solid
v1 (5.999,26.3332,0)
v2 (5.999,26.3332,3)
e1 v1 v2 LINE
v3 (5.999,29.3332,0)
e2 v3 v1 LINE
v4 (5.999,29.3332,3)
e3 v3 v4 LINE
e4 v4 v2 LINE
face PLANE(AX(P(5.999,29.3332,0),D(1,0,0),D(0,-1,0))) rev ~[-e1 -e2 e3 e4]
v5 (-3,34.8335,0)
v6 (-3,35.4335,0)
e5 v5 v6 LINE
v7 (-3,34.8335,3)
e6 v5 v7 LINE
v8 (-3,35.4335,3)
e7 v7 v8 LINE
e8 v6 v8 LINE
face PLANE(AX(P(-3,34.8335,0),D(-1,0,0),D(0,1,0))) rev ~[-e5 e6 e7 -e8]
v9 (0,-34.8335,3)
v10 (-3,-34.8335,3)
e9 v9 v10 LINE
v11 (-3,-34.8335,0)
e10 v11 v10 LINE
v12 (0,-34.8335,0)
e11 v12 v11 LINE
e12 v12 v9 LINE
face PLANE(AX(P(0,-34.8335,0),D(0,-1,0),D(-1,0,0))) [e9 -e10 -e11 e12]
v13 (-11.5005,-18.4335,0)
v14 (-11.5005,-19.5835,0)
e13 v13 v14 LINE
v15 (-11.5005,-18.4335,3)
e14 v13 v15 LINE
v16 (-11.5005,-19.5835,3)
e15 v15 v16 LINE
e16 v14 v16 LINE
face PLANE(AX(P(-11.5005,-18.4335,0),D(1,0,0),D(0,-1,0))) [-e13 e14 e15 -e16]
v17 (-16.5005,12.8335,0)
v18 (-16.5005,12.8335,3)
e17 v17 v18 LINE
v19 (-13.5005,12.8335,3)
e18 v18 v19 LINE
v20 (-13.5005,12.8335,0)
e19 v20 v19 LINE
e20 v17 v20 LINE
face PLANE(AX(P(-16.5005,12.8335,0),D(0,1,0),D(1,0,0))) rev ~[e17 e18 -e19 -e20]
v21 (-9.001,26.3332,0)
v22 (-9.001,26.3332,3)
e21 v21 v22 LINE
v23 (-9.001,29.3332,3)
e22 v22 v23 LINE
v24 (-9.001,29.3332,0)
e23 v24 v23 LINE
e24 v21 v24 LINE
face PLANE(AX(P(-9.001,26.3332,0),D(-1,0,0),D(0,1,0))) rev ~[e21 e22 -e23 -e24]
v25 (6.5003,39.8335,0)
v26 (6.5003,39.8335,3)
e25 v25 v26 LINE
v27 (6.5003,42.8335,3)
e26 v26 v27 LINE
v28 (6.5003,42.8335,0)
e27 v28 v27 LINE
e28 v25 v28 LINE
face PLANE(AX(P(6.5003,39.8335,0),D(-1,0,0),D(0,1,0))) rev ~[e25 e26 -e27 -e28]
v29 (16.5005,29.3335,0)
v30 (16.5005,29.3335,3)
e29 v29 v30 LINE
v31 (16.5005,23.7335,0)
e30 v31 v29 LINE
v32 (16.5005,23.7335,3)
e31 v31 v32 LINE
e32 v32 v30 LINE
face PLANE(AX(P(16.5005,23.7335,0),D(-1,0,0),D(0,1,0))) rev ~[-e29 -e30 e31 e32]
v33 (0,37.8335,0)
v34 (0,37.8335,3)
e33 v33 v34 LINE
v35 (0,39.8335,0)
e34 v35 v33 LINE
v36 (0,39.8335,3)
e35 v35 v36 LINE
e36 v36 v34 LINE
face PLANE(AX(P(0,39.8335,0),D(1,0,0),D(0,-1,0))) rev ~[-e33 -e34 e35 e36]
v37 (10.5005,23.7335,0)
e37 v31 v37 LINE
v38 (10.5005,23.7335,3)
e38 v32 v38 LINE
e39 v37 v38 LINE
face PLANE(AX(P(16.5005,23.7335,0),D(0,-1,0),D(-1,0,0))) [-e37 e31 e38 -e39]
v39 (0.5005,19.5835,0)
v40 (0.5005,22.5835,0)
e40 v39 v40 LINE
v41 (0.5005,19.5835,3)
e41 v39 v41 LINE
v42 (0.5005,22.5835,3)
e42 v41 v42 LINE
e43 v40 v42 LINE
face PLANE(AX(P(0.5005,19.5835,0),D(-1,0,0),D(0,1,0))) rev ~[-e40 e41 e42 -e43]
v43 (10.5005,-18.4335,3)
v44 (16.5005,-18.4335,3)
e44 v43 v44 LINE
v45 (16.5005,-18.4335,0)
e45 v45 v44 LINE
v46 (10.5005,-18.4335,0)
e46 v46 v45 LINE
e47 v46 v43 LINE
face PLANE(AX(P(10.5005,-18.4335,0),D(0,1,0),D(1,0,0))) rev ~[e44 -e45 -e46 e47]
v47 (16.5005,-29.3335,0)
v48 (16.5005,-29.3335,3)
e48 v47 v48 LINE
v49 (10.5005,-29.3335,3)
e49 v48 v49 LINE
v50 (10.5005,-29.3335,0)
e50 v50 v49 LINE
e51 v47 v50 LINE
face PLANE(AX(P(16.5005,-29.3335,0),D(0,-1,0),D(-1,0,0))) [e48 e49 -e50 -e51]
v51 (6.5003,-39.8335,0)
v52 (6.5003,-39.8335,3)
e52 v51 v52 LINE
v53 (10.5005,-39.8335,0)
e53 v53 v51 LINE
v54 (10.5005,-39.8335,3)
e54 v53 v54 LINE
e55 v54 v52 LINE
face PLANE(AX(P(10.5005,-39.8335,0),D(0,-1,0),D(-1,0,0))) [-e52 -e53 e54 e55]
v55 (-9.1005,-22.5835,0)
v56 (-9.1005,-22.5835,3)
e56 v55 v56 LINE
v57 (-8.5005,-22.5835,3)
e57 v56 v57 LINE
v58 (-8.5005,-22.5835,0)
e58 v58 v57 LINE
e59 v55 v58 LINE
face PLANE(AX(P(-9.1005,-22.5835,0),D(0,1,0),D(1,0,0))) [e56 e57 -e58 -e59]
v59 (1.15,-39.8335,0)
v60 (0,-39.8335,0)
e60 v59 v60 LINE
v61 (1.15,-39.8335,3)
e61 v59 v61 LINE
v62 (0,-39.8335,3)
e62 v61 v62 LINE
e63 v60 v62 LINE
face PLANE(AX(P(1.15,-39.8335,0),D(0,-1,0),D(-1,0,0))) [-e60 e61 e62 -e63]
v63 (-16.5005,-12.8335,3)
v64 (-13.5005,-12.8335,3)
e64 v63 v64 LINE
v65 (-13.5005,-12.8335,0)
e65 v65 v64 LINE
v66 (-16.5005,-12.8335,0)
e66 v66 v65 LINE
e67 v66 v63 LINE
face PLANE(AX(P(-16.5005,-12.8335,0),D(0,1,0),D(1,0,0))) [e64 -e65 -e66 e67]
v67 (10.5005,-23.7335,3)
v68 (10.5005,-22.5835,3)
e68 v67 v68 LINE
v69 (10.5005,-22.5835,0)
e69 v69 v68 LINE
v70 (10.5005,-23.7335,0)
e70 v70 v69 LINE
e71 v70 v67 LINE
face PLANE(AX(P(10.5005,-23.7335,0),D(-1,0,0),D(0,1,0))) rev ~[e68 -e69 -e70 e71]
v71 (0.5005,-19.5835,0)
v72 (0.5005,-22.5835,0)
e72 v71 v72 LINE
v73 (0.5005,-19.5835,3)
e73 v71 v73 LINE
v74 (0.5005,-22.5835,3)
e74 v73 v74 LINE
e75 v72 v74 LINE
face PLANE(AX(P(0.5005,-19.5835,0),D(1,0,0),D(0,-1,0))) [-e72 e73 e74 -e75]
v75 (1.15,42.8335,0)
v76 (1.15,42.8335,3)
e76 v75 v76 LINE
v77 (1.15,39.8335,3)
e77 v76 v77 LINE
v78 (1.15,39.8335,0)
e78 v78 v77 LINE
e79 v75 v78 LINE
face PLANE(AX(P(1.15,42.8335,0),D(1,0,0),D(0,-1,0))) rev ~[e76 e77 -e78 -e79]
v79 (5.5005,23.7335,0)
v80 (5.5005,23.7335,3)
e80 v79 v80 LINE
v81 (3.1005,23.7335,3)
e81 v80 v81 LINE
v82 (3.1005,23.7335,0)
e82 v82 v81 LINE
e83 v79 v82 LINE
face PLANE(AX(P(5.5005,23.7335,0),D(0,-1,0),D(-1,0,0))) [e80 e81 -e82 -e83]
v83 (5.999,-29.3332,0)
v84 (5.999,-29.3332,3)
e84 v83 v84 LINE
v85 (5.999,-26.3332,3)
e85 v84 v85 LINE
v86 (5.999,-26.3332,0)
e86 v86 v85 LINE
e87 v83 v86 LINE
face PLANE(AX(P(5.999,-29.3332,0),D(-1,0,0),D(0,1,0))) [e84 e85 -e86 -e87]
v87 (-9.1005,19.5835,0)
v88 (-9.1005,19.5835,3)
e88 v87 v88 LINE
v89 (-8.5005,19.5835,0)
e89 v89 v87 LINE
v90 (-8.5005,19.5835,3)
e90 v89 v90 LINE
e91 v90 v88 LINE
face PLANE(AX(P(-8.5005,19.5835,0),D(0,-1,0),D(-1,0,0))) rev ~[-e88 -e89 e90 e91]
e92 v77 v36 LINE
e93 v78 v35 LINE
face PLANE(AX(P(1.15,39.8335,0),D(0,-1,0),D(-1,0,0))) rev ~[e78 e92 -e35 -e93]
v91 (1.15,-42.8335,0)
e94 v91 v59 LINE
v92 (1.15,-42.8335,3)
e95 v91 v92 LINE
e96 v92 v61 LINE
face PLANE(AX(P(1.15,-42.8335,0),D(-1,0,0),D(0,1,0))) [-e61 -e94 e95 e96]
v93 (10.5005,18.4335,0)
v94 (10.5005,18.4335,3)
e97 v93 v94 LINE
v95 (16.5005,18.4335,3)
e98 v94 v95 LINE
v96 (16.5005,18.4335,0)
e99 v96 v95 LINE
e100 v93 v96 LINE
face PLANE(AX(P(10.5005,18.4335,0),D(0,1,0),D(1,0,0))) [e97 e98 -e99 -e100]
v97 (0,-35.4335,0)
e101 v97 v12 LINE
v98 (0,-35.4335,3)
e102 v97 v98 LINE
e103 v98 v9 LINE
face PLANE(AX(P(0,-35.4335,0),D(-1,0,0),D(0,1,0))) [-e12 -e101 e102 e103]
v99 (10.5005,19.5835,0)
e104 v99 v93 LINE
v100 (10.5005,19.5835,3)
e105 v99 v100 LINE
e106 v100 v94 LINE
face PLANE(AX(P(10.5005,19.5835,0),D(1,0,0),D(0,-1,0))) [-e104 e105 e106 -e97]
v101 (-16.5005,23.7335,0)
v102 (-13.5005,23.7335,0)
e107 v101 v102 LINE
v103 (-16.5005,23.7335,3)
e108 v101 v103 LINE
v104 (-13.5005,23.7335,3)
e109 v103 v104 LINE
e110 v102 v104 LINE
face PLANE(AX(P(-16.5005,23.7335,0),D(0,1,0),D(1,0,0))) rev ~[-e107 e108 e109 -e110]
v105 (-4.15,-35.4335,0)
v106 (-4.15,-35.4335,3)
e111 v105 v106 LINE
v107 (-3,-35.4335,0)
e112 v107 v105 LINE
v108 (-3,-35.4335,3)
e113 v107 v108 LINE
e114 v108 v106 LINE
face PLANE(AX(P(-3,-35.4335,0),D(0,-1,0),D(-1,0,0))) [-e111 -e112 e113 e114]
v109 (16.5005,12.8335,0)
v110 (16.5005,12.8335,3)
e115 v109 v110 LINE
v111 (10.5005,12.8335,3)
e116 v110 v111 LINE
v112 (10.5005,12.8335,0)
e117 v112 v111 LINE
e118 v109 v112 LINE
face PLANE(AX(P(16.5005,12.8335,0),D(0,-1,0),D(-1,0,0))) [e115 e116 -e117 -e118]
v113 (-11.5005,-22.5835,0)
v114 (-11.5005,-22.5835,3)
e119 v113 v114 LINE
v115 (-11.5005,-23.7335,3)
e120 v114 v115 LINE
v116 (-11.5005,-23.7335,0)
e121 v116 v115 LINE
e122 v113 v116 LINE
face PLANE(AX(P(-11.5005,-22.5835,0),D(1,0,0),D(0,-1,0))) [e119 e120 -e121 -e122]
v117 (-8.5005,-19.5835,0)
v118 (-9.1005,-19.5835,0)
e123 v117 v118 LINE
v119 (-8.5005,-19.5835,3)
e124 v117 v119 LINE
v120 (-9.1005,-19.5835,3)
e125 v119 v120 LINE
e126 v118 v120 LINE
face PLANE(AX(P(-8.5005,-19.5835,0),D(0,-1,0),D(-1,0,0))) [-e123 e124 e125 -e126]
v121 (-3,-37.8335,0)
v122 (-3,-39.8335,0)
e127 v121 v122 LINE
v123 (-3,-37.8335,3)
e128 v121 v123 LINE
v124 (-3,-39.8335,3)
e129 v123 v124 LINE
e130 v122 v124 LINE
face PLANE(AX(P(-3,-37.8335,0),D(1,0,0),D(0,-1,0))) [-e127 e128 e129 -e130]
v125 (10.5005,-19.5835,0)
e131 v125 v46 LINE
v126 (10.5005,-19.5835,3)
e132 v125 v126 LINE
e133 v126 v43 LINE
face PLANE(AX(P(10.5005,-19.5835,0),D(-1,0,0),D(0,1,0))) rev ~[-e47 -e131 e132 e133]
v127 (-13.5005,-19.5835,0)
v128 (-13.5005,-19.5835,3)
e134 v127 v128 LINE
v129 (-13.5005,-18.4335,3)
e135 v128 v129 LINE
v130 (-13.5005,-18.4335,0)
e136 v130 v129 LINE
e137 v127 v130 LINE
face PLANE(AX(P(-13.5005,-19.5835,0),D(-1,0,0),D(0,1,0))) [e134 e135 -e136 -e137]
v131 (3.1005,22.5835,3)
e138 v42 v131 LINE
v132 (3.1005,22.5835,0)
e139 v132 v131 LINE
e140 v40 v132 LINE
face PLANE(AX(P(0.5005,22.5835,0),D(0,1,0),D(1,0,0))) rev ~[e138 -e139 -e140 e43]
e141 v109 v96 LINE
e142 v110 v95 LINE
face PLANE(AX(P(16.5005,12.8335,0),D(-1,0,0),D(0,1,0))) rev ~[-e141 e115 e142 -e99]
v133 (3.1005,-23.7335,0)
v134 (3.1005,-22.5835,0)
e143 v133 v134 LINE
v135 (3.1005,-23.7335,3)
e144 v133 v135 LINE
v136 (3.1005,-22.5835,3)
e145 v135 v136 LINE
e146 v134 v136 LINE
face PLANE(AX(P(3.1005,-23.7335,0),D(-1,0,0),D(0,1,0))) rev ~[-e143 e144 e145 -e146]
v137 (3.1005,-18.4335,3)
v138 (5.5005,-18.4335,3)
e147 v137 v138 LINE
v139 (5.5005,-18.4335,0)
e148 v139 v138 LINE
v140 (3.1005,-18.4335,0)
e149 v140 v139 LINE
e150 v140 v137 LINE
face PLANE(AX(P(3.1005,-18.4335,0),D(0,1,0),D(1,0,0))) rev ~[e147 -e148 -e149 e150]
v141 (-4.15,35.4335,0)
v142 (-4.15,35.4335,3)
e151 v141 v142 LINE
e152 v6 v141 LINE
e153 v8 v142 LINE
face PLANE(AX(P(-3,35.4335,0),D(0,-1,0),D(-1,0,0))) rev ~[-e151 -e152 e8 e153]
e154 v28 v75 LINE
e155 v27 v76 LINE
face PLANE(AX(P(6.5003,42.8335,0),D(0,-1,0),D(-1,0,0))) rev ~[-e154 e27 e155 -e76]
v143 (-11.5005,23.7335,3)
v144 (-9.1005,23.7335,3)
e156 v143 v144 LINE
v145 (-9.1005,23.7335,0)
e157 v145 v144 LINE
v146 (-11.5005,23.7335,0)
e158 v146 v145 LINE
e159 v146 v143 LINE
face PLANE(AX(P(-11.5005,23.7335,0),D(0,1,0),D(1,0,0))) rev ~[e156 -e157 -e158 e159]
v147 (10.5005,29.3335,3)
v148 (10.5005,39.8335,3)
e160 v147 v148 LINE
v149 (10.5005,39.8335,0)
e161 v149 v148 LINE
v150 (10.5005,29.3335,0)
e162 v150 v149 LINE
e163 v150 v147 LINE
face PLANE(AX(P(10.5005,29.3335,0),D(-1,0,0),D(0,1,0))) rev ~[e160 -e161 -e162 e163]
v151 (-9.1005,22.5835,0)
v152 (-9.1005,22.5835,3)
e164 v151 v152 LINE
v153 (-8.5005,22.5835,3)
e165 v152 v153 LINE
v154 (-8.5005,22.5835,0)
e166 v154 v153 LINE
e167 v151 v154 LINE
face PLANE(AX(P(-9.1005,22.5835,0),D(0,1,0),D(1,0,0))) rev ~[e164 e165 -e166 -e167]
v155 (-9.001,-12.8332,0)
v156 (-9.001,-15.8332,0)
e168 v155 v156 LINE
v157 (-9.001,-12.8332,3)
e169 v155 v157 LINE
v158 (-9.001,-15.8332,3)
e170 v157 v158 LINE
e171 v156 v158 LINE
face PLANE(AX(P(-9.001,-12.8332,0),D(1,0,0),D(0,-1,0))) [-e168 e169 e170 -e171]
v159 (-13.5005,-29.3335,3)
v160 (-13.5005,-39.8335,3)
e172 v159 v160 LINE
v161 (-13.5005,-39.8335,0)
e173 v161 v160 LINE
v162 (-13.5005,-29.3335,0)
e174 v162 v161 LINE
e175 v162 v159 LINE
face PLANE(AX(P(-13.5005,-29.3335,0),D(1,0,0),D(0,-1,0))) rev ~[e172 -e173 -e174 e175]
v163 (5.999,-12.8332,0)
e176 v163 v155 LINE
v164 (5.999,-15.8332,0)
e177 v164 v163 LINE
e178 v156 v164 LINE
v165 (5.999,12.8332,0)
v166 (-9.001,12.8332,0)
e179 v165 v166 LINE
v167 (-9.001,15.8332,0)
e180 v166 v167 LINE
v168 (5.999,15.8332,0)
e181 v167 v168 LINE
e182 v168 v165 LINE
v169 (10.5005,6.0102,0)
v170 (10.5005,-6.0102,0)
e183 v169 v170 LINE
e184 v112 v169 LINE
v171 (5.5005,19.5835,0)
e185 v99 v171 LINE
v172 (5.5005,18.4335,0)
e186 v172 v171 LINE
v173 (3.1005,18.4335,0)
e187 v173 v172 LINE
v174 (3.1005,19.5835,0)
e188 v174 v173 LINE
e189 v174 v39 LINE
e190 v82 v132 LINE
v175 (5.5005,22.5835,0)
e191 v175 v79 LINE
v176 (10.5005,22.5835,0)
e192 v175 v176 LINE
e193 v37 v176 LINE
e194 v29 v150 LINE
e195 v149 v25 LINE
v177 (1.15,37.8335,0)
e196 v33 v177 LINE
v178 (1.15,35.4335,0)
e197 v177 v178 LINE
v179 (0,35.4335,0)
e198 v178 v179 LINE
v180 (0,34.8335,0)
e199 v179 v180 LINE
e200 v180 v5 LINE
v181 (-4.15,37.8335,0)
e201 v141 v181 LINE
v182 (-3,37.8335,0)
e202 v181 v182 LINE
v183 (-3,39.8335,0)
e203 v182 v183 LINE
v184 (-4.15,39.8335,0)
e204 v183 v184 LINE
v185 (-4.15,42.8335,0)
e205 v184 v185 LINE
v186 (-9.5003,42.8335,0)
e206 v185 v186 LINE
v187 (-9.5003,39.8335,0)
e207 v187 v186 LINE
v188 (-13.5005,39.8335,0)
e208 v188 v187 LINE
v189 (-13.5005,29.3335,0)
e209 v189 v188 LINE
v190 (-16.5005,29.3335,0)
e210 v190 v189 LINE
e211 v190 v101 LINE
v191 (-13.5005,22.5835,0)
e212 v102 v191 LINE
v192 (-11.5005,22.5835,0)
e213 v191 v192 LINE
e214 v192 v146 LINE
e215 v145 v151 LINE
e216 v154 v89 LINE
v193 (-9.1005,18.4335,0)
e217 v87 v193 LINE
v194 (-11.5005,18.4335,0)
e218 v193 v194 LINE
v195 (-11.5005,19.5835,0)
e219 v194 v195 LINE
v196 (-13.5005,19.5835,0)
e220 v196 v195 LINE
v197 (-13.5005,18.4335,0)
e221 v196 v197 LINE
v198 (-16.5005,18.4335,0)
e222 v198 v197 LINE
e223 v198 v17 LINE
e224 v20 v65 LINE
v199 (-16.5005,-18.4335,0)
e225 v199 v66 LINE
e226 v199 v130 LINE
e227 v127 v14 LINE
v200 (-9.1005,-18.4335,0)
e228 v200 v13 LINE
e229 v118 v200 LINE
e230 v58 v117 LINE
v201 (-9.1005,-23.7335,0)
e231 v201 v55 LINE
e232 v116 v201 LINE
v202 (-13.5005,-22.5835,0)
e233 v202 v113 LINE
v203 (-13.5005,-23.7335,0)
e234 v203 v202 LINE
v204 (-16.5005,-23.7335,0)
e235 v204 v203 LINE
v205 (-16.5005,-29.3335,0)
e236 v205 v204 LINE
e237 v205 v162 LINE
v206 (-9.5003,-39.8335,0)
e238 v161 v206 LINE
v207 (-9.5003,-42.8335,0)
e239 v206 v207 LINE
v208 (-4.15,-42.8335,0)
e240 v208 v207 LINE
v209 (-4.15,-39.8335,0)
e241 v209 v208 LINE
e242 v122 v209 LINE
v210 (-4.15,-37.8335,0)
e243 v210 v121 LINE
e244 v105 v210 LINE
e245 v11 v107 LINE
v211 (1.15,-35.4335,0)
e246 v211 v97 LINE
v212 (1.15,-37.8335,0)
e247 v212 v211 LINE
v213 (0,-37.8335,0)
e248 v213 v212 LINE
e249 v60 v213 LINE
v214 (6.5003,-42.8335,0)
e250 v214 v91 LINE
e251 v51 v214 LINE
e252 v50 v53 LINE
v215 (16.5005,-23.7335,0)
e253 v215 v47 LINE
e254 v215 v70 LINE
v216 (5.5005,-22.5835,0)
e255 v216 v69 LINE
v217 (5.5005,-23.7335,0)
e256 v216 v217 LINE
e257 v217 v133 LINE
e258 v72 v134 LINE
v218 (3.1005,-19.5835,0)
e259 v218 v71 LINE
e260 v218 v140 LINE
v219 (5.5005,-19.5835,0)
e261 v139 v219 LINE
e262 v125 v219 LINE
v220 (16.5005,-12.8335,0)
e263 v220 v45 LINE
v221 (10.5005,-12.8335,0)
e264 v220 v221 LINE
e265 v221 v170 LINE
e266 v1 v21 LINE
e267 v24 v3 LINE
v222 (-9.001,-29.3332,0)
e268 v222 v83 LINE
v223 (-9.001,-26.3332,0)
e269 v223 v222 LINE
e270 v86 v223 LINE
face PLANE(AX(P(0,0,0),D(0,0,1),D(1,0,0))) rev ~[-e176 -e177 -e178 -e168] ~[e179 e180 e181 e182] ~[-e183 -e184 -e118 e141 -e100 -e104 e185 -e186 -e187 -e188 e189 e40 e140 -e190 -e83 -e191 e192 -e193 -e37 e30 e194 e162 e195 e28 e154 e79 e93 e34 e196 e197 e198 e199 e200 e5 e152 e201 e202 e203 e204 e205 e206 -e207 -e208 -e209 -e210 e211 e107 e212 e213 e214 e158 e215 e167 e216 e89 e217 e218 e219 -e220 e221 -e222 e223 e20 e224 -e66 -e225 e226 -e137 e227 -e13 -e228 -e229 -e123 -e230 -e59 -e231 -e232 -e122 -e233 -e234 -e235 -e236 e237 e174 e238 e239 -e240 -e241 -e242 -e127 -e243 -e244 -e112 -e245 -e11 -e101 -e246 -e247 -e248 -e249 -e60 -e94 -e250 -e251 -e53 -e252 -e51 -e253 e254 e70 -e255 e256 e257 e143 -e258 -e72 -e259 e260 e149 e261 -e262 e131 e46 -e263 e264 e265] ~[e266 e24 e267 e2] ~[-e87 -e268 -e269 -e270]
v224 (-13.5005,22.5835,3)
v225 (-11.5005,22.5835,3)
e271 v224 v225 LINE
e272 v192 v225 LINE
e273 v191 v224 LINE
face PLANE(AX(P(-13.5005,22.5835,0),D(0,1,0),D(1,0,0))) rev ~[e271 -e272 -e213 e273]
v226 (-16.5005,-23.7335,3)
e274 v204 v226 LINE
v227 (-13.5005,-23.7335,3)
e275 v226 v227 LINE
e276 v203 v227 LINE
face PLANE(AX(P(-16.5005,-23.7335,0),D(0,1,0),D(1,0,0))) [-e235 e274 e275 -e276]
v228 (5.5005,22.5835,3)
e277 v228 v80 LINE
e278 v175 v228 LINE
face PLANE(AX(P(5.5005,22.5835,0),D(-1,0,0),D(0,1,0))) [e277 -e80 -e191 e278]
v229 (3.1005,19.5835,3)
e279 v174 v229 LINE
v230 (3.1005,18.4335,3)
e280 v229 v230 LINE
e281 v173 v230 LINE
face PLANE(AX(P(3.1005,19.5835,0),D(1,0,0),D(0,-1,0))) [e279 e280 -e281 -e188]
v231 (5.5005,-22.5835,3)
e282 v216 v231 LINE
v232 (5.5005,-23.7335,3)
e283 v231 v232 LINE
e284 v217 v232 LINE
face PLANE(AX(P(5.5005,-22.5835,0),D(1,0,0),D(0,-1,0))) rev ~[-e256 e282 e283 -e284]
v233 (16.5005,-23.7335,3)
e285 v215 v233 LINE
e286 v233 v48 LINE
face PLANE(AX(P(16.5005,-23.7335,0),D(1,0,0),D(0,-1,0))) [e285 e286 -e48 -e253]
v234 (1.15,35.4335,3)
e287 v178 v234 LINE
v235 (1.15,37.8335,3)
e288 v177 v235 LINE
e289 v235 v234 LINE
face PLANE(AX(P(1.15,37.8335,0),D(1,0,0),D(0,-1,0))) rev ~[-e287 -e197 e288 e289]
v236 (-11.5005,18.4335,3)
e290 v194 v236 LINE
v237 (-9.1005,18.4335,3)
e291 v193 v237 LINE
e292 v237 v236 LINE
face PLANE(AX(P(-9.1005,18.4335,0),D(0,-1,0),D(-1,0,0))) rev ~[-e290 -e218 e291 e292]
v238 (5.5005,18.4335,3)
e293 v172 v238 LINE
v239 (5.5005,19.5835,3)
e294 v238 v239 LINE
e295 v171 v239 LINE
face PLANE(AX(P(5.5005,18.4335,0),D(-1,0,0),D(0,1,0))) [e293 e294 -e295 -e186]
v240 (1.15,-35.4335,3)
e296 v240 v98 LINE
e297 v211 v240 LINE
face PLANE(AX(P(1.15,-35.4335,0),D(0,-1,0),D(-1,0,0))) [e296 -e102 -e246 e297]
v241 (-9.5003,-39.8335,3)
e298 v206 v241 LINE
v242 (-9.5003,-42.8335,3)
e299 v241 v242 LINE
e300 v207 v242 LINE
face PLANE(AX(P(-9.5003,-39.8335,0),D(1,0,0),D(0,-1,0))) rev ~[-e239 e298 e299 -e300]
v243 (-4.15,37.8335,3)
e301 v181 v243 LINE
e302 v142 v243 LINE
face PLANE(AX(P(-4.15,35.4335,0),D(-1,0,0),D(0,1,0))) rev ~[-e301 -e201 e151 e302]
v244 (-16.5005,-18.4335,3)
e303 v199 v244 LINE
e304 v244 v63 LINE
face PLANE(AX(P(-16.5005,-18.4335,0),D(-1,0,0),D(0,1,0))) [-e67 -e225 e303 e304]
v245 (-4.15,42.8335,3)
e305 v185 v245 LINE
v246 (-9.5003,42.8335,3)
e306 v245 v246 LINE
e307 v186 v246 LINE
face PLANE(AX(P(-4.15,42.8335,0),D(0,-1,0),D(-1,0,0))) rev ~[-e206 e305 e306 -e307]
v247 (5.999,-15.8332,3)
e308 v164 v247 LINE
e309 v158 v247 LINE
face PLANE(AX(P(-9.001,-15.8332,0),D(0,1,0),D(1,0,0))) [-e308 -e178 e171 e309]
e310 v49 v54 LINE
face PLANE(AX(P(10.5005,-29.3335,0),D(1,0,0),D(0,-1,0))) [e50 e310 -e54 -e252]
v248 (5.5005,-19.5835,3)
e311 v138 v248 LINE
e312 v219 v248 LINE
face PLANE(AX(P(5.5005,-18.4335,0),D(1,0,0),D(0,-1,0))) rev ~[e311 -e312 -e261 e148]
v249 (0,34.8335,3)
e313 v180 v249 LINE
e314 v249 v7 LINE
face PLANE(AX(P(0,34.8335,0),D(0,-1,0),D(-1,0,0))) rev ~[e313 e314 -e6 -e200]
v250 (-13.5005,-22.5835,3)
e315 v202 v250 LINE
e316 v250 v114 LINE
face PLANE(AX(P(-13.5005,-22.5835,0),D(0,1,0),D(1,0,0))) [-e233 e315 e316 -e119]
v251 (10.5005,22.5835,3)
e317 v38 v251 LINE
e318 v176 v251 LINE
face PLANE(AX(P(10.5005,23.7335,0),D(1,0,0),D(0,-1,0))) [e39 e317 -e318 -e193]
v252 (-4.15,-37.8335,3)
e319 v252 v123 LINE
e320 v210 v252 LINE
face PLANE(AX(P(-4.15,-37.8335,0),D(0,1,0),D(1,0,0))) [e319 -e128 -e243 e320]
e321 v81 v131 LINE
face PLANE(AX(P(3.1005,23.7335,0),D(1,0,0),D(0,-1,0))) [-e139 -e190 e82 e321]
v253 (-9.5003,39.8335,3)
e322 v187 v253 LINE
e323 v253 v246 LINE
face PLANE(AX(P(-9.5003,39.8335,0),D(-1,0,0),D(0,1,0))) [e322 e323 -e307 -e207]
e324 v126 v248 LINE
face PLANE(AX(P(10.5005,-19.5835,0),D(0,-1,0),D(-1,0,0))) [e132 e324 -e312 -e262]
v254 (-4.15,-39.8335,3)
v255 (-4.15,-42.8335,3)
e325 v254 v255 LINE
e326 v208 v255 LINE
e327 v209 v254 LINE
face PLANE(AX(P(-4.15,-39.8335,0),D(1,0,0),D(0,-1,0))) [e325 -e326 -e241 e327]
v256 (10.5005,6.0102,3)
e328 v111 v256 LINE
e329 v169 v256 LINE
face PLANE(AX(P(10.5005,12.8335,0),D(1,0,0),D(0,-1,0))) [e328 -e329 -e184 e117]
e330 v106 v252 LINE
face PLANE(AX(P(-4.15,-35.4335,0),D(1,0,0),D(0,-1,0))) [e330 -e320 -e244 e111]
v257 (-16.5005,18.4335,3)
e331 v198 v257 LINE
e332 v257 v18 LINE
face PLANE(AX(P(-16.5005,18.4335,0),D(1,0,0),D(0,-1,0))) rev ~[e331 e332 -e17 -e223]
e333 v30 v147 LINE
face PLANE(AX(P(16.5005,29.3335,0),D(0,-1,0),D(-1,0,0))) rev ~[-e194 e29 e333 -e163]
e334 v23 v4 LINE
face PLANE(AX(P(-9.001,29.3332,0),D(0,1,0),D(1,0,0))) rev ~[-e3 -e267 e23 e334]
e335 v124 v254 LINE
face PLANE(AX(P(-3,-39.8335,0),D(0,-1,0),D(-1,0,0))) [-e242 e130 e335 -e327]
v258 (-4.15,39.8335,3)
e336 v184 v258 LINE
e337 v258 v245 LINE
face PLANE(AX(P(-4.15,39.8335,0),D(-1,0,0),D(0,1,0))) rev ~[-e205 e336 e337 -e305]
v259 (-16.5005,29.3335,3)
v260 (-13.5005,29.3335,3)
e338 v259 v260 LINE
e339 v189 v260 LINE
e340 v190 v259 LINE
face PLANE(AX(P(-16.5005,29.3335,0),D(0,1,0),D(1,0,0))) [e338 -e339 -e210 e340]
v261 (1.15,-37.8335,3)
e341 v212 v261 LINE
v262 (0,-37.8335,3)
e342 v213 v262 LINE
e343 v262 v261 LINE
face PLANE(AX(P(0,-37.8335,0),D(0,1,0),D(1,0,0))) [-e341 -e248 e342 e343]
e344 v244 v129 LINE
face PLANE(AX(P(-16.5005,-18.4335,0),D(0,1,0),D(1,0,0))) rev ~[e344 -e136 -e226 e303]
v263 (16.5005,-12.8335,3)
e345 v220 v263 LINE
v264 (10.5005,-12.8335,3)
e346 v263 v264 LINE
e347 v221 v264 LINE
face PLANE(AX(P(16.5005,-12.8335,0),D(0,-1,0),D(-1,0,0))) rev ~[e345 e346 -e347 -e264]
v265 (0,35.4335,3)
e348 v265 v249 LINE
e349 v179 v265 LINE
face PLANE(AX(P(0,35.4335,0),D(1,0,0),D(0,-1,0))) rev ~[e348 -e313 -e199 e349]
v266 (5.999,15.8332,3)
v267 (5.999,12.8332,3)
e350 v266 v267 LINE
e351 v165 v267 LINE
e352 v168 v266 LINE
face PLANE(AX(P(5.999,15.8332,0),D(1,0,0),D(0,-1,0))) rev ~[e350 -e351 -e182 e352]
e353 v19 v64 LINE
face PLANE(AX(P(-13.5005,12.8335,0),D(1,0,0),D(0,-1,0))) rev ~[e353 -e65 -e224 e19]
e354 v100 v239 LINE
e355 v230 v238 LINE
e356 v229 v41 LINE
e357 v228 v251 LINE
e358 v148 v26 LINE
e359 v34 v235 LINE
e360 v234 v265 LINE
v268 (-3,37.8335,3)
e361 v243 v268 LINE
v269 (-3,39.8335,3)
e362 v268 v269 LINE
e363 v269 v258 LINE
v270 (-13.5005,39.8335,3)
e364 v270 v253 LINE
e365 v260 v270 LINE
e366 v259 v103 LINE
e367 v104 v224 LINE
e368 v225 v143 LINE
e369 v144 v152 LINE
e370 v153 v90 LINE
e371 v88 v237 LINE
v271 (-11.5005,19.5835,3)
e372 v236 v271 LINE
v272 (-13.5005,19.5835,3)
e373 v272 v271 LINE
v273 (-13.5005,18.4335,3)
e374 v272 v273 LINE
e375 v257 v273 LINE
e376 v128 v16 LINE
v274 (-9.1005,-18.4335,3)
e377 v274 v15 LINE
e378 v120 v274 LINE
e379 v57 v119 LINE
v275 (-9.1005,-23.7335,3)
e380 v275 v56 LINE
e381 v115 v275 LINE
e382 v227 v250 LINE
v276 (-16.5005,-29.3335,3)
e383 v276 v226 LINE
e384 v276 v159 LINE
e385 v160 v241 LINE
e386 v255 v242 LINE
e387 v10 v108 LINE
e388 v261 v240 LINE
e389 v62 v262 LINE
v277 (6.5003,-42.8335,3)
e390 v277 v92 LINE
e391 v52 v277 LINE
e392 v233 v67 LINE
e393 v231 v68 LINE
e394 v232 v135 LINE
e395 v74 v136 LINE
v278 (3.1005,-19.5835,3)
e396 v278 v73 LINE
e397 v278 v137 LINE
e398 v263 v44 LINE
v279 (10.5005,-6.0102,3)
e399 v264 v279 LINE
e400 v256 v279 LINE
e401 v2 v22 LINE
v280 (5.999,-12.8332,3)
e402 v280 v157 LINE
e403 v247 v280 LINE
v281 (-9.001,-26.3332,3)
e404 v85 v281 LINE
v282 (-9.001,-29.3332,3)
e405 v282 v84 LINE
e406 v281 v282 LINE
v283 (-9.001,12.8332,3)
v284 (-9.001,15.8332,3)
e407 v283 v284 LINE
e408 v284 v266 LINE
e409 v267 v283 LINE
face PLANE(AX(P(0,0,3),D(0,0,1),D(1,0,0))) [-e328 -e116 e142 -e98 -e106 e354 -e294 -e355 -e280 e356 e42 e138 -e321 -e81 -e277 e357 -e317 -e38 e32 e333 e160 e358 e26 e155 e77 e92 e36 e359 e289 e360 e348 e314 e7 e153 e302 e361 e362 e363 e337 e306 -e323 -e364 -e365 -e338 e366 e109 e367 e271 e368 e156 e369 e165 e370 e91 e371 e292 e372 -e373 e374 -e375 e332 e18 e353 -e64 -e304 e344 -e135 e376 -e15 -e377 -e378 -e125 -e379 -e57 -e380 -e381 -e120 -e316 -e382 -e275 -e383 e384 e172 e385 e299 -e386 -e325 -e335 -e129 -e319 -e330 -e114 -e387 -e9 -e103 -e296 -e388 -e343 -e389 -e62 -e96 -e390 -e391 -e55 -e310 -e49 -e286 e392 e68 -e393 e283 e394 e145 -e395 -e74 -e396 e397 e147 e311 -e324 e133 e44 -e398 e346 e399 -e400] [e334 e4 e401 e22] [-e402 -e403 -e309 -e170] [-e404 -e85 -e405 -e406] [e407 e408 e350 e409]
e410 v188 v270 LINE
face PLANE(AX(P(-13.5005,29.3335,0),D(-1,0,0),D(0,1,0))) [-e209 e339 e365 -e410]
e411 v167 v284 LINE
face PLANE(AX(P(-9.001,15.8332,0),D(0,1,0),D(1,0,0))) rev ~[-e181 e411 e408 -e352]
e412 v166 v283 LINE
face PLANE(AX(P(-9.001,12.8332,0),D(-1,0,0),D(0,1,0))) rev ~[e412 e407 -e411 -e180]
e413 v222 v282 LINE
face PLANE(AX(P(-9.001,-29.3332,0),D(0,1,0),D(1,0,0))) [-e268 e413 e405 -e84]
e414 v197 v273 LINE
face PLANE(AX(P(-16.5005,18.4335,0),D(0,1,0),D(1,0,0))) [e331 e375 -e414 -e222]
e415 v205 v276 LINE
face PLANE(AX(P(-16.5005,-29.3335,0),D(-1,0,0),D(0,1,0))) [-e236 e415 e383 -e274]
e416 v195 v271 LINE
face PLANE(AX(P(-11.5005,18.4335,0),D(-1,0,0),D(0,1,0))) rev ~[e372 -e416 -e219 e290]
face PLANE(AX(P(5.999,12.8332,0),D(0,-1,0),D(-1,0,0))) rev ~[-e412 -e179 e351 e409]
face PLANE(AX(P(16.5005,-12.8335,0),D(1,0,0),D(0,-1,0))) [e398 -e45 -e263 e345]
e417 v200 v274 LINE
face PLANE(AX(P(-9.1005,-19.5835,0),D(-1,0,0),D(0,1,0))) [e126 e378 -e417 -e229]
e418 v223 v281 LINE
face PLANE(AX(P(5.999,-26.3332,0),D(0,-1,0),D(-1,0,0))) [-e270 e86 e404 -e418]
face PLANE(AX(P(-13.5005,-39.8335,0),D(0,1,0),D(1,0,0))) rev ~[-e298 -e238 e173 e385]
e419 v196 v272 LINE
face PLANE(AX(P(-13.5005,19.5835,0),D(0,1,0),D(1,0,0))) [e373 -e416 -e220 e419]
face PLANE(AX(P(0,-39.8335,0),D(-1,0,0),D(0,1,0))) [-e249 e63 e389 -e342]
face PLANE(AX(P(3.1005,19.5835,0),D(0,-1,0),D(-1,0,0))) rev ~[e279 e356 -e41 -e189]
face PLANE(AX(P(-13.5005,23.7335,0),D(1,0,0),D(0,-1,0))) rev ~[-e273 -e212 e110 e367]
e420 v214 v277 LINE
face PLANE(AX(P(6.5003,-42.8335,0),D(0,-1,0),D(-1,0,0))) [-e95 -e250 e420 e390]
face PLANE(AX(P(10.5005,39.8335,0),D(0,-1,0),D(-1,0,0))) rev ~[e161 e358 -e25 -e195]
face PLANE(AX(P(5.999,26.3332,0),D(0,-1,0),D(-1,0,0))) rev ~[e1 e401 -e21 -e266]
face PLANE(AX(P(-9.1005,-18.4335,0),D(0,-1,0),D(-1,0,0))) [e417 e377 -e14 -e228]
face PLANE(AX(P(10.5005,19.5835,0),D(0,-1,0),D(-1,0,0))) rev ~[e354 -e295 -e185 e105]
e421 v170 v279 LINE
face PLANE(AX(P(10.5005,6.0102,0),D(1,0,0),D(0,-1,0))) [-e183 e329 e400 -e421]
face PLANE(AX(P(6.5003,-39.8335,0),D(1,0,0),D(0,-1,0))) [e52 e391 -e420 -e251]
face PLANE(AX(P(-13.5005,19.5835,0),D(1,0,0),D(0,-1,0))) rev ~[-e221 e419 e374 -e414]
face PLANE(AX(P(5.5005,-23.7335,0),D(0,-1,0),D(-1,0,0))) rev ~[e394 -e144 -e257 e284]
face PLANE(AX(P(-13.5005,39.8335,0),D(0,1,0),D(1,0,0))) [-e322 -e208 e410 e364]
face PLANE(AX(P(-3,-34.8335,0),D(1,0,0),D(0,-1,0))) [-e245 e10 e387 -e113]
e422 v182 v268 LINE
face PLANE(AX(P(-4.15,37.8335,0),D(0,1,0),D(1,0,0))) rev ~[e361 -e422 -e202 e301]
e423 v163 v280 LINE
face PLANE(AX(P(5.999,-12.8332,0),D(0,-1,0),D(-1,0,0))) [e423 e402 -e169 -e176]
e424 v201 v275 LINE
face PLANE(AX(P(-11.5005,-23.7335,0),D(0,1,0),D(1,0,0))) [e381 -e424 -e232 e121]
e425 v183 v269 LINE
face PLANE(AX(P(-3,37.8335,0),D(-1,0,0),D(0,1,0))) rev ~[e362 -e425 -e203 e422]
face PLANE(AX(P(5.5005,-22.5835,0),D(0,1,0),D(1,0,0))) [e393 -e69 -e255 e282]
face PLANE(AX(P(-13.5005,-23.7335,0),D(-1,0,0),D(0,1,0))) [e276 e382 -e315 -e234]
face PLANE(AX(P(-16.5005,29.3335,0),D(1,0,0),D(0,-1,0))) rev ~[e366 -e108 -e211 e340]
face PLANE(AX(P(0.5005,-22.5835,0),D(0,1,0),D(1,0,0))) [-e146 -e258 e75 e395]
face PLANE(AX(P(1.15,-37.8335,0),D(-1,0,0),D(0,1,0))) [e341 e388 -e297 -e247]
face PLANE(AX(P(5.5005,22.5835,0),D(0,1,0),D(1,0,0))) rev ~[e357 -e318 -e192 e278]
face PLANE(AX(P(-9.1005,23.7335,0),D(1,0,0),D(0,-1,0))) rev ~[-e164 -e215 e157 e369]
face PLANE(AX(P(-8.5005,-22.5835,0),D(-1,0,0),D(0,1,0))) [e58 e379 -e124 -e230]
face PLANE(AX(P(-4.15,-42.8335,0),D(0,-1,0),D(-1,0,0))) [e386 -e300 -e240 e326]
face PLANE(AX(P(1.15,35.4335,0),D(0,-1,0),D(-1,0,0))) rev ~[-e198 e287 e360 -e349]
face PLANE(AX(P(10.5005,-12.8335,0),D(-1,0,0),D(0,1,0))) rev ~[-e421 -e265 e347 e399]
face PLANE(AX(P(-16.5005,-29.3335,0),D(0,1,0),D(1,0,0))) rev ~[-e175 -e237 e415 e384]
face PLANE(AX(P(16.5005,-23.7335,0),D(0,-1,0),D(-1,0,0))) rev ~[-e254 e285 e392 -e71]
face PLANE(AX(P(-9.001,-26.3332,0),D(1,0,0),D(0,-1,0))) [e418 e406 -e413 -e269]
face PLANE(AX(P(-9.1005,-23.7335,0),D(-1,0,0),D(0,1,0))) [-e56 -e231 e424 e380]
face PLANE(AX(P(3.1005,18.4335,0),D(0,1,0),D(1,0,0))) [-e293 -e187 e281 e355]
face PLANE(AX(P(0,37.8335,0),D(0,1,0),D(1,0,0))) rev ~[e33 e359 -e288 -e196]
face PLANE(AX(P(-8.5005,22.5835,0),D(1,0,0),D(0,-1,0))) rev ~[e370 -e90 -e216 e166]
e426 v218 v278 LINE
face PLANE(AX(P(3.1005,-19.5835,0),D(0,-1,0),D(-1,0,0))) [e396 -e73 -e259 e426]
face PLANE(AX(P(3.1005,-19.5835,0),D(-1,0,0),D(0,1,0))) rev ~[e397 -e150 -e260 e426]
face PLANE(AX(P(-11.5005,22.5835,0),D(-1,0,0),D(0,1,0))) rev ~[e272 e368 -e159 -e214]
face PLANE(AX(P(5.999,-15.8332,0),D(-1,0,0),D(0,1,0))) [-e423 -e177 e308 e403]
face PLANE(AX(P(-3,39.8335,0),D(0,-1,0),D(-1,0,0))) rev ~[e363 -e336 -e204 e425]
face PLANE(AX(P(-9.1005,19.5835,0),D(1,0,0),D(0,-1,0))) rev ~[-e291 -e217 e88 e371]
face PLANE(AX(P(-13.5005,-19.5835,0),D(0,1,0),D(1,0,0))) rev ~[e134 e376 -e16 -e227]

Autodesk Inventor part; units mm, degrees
ref_plane "YZ Plane" through (0, 0, 0) normal (1, 0, 0) x (0, 1, 0)
ref_plane "XZ Plane" through (0, 0, 0) normal (0, 1, 0) x (-1, 0, 0)
ref_plane "XY Plane" through (0, 0, 0) normal (0, 0, 1) x (1, 0, 0)
sketch "Sketch1" plane through (0, 0, 0) normal (0, 0, 1) x (1, 0, 0)
  line L0 (16.5005, -29.3335) -> (10.5005, -29.3335)
  line L1 (10.5005, -29.3335) -> (10.5005, -39.8335)
  line L2 (16.5005, -23.7335) -> (10.5005, -23.7335)
  line L3 (10.5005, -23.7335) -> (10.5005, -22.5835)
  line L4 (10.5005, -18.4335) -> (16.5005, -18.4335)
  line L5 (16.5005, -23.7335) -> (16.5005, -29.3335)
  line L6 (25.9291, -21.0835) -> (-23.8941, -21.0835) construction
  line L7 (10.5005, -19.5835) -> (5.5005, -19.5835)
  line L8 (0.5005, -19.5835) -> (0.5005, -22.5835)
  line L9 (0.5005, -22.5835) -> (3.1005, -22.5835)
  line L10 (3.1005, -18.4335) -> (5.5005, -18.4335)
  line L11 (5.5005, -18.4335) -> (5.5005, -19.5835)
  line L12 (5.5005, -23.7335) -> (3.1005, -23.7335)
  line L13 (3.1005, -23.7335) -> (3.1005, -22.5835)
  line L14 (10.5005, -19.5835) -> (10.5005, -18.4335)
  line L15 (16.5005, -12.8335) -> (10.5005, -12.8335)
  line L16 (10.5005, -12.8335) -> (10.5005, -6.0102)
  line L17 (16.5005, -12.8335) -> (16.5005, -18.4335)
  line L18 (-29.2331, 0) -> (54.6642, 0) construction
  line L19 (5.5005, -22.5835) -> (5.5005, -23.7335)
  line L20 (3.1005, -19.5835) -> (3.1005, -18.4335)
  line L21 (3.1005, -19.5835) -> (0.5005, -19.5835)
  line L22 (5.5005, -22.5835) -> (10.5005, -22.5835)
  line L23 (16.5005, 29.3335) -> (10.5005, 29.3335)
  line L24 (10.5005, 29.3335) -> (10.5005, 39.8335)
  line L25 (16.5005, 23.7335) -> (10.5005, 23.7335)
  line L26 (10.5005, 23.7335) -> (10.5005, 22.5835)
  line L27 (10.5005, 18.4335) -> (16.5005, 18.4335)
  line L28 (16.5005, 23.7335) -> (16.5005, 29.3335)
  line L29 (10.5005, 19.5835) -> (5.5005, 19.5835)
  line L30 (0.5005, 19.5835) -> (0.5005, 22.5835)
  line L31 (0.5005, 22.5835) -> (3.1005, 22.5835)
  line L32 (3.1005, 18.4335) -> (5.5005, 18.4335)
  line L33 (5.5005, 18.4335) -> (5.5005, 19.5835)
  line L34 (5.5005, 23.7335) -> (3.1005, 23.7335)
  line L35 (3.1005, 23.7335) -> (3.1005, 22.5835)
  line L36 (10.5005, 19.5835) -> (10.5005, 18.4335)
  line L37 (16.5005, 12.8335) -> (10.5005, 12.8335)
  line L38 (10.5005, 12.8335) -> (10.5005, 6.0102)
  line L39 (16.5005, 12.8335) -> (16.5005, 18.4335)
  line L40 (5.5005, 22.5835) -> (5.5005, 23.7335)
  line L41 (3.1005, 19.5835) -> (3.1005, 18.4335)
  line L42 (3.1005, 19.5835) -> (0.5005, 19.5835)
  line L43 (5.5005, 22.5835) -> (10.5005, 22.5835)
  line L44 (10.5005, 6.0102) -> (10.5005, -6.0102)
  line L45 (-16.5005, -29.3335) -> (-13.5005, -29.3335)
  line L46 (-13.5005, -29.3335) -> (-13.5005, -39.8335)
  line L47 (-16.5005, -23.7335) -> (-13.5005, -23.7335)
  line L48 (-13.5005, -23.7335) -> (-13.5005, -22.5835)
  line L49 (-13.5005, -22.5835) -> (-11.5005, -22.5835)
  line L50 (-11.5005, -22.5835) -> (-11.5005, -23.7335)
  line L51 (-11.5005, -23.7335) -> (-9.1005, -23.7335)
  line L52 (-9.1005, -23.7335) -> (-9.1005, -22.5835)
  line L53 (-9.1005, -22.5835) -> (-8.5005, -22.5835)
  line L54 (-8.5005, -22.5835) -> (-8.5005, -19.5835)
  line L55 (-8.5005, -19.5835) -> (-9.1005, -19.5835)
  line L56 (-9.1005, -19.5835) -> (-9.1005, -18.4335)
  line L57 (-9.1005, -18.4335) -> (-11.5005, -18.4335)
  line L58 (-11.5005, -18.4335) -> (-11.5005, -19.5835)
  line L59 (-13.5005, -19.5835) -> (-13.5005, -18.4335)
  line L60 (-16.5005, -18.4335) -> (-13.5005, -18.4335)
  line L61 (-13.5005, -19.5835) -> (-11.5005, -19.5835)
  line L62 (-16.5005, -29.3335) -> (-16.5005, -23.7335)
  line L63 (-16.5005, -12.8335) -> (-13.5005, -12.8335)
  line L64 (-16.5005, -18.4335) -> (-16.5005, -12.8335)
  line L65 (-16.5005, 29.3335) -> (-13.5005, 29.3335)
  line L66 (-13.5005, 29.3335) -> (-13.5005, 39.8335)
  line L67 (-16.5005, 23.7335) -> (-13.5005, 23.7335)
  line L68 (-13.5005, 23.7335) -> (-13.5005, 22.5835)
  line L69 (-13.5005, 22.5835) -> (-11.5005, 22.5835)
  line L70 (-11.5005, 22.5835) -> (-11.5005, 23.7335)
  line L71 (-11.5005, 23.7335) -> (-9.1005, 23.7335)
  line L72 (-9.1005, 23.7335) -> (-9.1005, 22.5835)
  line L73 (-9.1005, 22.5835) -> (-8.5005, 22.5835)
  line L74 (-8.5005, 22.5835) -> (-8.5005, 19.5835)
  line L75 (-8.5005, 19.5835) -> (-9.1005, 19.5835)
  line L76 (-9.1005, 19.5835) -> (-9.1005, 18.4335)
  line L77 (-9.1005, 18.4335) -> (-11.5005, 18.4335)
  line L78 (-11.5005, 18.4335) -> (-11.5005, 19.5835)
  line L79 (-13.5005, 19.5835) -> (-13.5005, 18.4335)
  line L80 (-16.5005, 18.4335) -> (-13.5005, 18.4335)
  line L81 (-13.5005, 19.5835) -> (-11.5005, 19.5835)
  line L82 (-16.5005, 29.3335) -> (-16.5005, 23.7335)
  line L83 (-16.5005, 12.8335) -> (-13.5005, 12.8335)
  line L84 (-16.5005, 18.4335) -> (-16.5005, 12.8335)
  line L85 (-13.5005, 12.8335) -> (-13.5005, -12.8335)
  line L86 (10.5005, -39.8335) -> (6.5003, -39.8335)
  line L87 (6.5003, -39.8335) -> (6.5003, -42.8335)
  line L88 (1.15, -42.8335) -> (1.15, -39.8335)
  line L89 (1.15, -39.8335) -> (0, -39.8335)
  line L90 (0, -39.8335) -> (0, -37.8335)
  line L91 (0, -37.8335) -> (1.15, -37.8335)
  line L92 (1.15, -37.8335) -> (1.15, -35.4335)
  line L93 (1.15, -35.4335) -> (0, -35.4335)
  line L94 (0, -35.4335) -> (0, -34.8335)
  line L95 (0, -34.8335) -> (-3, -34.8335)
  line L96 (-3, -34.8335) -> (-3, -35.4335)
  line L97 (-3, -35.4335) -> (-4.15, -35.4335)
  line L98 (-4.15, -35.4335) -> (-4.15, -37.8335)
  line L99 (-4.15, -37.8335) -> (-3, -37.8335)
  line L100 (-3, -37.8335) -> (-3, -39.8335)
  line L101 (-3, -39.8335) -> (-4.15, -39.8335)
  line L102 (-4.15, -39.8335) -> (-4.15, -42.8335)
  line L103 (-13.5005, -39.8335) -> (-9.5003, -39.8335)
  line L104 (-9.5003, -39.8335) -> (-9.5003, -42.8335)
  line L105 (-1.5, -32.9153) -> (-1.5, -45.3833) construction
  line L106 (6.5003, -42.8335) -> (1.15, -42.8335)
  line L107 (-4.15, -42.8335) -> (-9.5003, -42.8335)
  line L108 (10.5005, 39.8335) -> (6.5003, 39.8335)
  line L109 (6.5003, 39.8335) -> (6.5003, 42.8335)
  line L110 (1.15, 42.8335) -> (1.15, 39.8335)
  line L111 (1.15, 39.8335) -> (0, 39.8335)
  line L112 (0, 39.8335) -> (0, 37.8335)
  line L113 (0, 37.8335) -> (1.15, 37.8335)
  line L114 (1.15, 37.8335) -> (1.15, 35.4335)
  line L115 (1.15, 35.4335) -> (0, 35.4335)
  line L116 (0, 35.4335) -> (0, 34.8335)
  line L117 (0, 34.8335) -> (-3, 34.8335)
  line L118 (-3, 34.8335) -> (-3, 35.4335)
  line L119 (-3, 35.4335) -> (-4.15, 35.4335)
  line L120 (-4.15, 35.4335) -> (-4.15, 37.8335)
  line L121 (-4.15, 37.8335) -> (-3, 37.8335)
  line L122 (-3, 37.8335) -> (-3, 39.8335)
  line L123 (-3, 39.8335) -> (-4.15, 39.8335)
  line L124 (-4.15, 39.8335) -> (-4.15, 42.8335)
  line L125 (-13.5005, 39.8335) -> (-9.5003, 39.8335)
  line L126 (-9.5003, 39.8335) -> (-9.5003, 42.8335)
  line L127 (6.5003, 42.8335) -> (1.15, 42.8335)
  line L128 (-4.15, 42.8335) -> (-9.5003, 42.8335)
  line L129 (5.999, 29.3332) -> (5.999, 26.3332)
  line L130 (-9.001, 29.3332) -> (5.999, 29.3332)
  line L131 (-9.001, 26.3332) -> (-9.001, 29.3332)
  line L132 (5.999, 26.3332) -> (-9.001, 26.3332)
  line L133 (-9.001, 12.8332) -> (-9.001, 15.8332)
  line L134 (5.999, 12.8332) -> (-9.001, 12.8332)
  line L135 (5.999, 15.8332) -> (5.999, 12.8332)
  line L136 (10.5005, 15.8332) -> (10.5005, 12.8332)
  line L137 (-9.001, 15.8332) -> (5.999, 15.8332)
  line L138 (5.999, -29.3332) -> (5.999, -26.3332)
  line L139 (-9.001, -29.3332) -> (5.999, -29.3332)
  line L140 (-9.001, -26.3332) -> (-9.001, -29.3332)
  line L141 (5.999, -26.3332) -> (-9.001, -26.3332)
  line L142 (-9.001, -12.8332) -> (-9.001, -15.8332)
  line L143 (5.999, -12.8332) -> (-9.001, -12.8332)
  line L144 (5.999, -15.8332) -> (5.999, -12.8332)
  line L145 (-9.001, -15.8332) -> (5.999, -15.8332)
  point P0 (0, 0)
  point P1 (-13.5005, 42.8335)
  point P2 (10.5005, 42.8335)
  point P3 (10.5005, -42.8335)
  point P4 (-13.5005, -42.8335)
  dimension "d2" = 6
  dimension "d4" = 5.6
  dimension "d5" = 5.3
  dimension "d6" = 3
  dimension "d8" = 2.4
  dimension "d10" = 5
  dimension "d11" = 16
  dimension "d14" = 3
  dimension "d15" = 5
  dimension "d16" = 8
  dimension "d17" = 24.001
  dimension "d18" = 16.0007
extrude "Extrusion1" add sketch "Sketch1" along normal blind 3
equation "\"d18\" = 0.666667 * d17"
properties part number "X-Anchor_Bearing_Ring_Top"
